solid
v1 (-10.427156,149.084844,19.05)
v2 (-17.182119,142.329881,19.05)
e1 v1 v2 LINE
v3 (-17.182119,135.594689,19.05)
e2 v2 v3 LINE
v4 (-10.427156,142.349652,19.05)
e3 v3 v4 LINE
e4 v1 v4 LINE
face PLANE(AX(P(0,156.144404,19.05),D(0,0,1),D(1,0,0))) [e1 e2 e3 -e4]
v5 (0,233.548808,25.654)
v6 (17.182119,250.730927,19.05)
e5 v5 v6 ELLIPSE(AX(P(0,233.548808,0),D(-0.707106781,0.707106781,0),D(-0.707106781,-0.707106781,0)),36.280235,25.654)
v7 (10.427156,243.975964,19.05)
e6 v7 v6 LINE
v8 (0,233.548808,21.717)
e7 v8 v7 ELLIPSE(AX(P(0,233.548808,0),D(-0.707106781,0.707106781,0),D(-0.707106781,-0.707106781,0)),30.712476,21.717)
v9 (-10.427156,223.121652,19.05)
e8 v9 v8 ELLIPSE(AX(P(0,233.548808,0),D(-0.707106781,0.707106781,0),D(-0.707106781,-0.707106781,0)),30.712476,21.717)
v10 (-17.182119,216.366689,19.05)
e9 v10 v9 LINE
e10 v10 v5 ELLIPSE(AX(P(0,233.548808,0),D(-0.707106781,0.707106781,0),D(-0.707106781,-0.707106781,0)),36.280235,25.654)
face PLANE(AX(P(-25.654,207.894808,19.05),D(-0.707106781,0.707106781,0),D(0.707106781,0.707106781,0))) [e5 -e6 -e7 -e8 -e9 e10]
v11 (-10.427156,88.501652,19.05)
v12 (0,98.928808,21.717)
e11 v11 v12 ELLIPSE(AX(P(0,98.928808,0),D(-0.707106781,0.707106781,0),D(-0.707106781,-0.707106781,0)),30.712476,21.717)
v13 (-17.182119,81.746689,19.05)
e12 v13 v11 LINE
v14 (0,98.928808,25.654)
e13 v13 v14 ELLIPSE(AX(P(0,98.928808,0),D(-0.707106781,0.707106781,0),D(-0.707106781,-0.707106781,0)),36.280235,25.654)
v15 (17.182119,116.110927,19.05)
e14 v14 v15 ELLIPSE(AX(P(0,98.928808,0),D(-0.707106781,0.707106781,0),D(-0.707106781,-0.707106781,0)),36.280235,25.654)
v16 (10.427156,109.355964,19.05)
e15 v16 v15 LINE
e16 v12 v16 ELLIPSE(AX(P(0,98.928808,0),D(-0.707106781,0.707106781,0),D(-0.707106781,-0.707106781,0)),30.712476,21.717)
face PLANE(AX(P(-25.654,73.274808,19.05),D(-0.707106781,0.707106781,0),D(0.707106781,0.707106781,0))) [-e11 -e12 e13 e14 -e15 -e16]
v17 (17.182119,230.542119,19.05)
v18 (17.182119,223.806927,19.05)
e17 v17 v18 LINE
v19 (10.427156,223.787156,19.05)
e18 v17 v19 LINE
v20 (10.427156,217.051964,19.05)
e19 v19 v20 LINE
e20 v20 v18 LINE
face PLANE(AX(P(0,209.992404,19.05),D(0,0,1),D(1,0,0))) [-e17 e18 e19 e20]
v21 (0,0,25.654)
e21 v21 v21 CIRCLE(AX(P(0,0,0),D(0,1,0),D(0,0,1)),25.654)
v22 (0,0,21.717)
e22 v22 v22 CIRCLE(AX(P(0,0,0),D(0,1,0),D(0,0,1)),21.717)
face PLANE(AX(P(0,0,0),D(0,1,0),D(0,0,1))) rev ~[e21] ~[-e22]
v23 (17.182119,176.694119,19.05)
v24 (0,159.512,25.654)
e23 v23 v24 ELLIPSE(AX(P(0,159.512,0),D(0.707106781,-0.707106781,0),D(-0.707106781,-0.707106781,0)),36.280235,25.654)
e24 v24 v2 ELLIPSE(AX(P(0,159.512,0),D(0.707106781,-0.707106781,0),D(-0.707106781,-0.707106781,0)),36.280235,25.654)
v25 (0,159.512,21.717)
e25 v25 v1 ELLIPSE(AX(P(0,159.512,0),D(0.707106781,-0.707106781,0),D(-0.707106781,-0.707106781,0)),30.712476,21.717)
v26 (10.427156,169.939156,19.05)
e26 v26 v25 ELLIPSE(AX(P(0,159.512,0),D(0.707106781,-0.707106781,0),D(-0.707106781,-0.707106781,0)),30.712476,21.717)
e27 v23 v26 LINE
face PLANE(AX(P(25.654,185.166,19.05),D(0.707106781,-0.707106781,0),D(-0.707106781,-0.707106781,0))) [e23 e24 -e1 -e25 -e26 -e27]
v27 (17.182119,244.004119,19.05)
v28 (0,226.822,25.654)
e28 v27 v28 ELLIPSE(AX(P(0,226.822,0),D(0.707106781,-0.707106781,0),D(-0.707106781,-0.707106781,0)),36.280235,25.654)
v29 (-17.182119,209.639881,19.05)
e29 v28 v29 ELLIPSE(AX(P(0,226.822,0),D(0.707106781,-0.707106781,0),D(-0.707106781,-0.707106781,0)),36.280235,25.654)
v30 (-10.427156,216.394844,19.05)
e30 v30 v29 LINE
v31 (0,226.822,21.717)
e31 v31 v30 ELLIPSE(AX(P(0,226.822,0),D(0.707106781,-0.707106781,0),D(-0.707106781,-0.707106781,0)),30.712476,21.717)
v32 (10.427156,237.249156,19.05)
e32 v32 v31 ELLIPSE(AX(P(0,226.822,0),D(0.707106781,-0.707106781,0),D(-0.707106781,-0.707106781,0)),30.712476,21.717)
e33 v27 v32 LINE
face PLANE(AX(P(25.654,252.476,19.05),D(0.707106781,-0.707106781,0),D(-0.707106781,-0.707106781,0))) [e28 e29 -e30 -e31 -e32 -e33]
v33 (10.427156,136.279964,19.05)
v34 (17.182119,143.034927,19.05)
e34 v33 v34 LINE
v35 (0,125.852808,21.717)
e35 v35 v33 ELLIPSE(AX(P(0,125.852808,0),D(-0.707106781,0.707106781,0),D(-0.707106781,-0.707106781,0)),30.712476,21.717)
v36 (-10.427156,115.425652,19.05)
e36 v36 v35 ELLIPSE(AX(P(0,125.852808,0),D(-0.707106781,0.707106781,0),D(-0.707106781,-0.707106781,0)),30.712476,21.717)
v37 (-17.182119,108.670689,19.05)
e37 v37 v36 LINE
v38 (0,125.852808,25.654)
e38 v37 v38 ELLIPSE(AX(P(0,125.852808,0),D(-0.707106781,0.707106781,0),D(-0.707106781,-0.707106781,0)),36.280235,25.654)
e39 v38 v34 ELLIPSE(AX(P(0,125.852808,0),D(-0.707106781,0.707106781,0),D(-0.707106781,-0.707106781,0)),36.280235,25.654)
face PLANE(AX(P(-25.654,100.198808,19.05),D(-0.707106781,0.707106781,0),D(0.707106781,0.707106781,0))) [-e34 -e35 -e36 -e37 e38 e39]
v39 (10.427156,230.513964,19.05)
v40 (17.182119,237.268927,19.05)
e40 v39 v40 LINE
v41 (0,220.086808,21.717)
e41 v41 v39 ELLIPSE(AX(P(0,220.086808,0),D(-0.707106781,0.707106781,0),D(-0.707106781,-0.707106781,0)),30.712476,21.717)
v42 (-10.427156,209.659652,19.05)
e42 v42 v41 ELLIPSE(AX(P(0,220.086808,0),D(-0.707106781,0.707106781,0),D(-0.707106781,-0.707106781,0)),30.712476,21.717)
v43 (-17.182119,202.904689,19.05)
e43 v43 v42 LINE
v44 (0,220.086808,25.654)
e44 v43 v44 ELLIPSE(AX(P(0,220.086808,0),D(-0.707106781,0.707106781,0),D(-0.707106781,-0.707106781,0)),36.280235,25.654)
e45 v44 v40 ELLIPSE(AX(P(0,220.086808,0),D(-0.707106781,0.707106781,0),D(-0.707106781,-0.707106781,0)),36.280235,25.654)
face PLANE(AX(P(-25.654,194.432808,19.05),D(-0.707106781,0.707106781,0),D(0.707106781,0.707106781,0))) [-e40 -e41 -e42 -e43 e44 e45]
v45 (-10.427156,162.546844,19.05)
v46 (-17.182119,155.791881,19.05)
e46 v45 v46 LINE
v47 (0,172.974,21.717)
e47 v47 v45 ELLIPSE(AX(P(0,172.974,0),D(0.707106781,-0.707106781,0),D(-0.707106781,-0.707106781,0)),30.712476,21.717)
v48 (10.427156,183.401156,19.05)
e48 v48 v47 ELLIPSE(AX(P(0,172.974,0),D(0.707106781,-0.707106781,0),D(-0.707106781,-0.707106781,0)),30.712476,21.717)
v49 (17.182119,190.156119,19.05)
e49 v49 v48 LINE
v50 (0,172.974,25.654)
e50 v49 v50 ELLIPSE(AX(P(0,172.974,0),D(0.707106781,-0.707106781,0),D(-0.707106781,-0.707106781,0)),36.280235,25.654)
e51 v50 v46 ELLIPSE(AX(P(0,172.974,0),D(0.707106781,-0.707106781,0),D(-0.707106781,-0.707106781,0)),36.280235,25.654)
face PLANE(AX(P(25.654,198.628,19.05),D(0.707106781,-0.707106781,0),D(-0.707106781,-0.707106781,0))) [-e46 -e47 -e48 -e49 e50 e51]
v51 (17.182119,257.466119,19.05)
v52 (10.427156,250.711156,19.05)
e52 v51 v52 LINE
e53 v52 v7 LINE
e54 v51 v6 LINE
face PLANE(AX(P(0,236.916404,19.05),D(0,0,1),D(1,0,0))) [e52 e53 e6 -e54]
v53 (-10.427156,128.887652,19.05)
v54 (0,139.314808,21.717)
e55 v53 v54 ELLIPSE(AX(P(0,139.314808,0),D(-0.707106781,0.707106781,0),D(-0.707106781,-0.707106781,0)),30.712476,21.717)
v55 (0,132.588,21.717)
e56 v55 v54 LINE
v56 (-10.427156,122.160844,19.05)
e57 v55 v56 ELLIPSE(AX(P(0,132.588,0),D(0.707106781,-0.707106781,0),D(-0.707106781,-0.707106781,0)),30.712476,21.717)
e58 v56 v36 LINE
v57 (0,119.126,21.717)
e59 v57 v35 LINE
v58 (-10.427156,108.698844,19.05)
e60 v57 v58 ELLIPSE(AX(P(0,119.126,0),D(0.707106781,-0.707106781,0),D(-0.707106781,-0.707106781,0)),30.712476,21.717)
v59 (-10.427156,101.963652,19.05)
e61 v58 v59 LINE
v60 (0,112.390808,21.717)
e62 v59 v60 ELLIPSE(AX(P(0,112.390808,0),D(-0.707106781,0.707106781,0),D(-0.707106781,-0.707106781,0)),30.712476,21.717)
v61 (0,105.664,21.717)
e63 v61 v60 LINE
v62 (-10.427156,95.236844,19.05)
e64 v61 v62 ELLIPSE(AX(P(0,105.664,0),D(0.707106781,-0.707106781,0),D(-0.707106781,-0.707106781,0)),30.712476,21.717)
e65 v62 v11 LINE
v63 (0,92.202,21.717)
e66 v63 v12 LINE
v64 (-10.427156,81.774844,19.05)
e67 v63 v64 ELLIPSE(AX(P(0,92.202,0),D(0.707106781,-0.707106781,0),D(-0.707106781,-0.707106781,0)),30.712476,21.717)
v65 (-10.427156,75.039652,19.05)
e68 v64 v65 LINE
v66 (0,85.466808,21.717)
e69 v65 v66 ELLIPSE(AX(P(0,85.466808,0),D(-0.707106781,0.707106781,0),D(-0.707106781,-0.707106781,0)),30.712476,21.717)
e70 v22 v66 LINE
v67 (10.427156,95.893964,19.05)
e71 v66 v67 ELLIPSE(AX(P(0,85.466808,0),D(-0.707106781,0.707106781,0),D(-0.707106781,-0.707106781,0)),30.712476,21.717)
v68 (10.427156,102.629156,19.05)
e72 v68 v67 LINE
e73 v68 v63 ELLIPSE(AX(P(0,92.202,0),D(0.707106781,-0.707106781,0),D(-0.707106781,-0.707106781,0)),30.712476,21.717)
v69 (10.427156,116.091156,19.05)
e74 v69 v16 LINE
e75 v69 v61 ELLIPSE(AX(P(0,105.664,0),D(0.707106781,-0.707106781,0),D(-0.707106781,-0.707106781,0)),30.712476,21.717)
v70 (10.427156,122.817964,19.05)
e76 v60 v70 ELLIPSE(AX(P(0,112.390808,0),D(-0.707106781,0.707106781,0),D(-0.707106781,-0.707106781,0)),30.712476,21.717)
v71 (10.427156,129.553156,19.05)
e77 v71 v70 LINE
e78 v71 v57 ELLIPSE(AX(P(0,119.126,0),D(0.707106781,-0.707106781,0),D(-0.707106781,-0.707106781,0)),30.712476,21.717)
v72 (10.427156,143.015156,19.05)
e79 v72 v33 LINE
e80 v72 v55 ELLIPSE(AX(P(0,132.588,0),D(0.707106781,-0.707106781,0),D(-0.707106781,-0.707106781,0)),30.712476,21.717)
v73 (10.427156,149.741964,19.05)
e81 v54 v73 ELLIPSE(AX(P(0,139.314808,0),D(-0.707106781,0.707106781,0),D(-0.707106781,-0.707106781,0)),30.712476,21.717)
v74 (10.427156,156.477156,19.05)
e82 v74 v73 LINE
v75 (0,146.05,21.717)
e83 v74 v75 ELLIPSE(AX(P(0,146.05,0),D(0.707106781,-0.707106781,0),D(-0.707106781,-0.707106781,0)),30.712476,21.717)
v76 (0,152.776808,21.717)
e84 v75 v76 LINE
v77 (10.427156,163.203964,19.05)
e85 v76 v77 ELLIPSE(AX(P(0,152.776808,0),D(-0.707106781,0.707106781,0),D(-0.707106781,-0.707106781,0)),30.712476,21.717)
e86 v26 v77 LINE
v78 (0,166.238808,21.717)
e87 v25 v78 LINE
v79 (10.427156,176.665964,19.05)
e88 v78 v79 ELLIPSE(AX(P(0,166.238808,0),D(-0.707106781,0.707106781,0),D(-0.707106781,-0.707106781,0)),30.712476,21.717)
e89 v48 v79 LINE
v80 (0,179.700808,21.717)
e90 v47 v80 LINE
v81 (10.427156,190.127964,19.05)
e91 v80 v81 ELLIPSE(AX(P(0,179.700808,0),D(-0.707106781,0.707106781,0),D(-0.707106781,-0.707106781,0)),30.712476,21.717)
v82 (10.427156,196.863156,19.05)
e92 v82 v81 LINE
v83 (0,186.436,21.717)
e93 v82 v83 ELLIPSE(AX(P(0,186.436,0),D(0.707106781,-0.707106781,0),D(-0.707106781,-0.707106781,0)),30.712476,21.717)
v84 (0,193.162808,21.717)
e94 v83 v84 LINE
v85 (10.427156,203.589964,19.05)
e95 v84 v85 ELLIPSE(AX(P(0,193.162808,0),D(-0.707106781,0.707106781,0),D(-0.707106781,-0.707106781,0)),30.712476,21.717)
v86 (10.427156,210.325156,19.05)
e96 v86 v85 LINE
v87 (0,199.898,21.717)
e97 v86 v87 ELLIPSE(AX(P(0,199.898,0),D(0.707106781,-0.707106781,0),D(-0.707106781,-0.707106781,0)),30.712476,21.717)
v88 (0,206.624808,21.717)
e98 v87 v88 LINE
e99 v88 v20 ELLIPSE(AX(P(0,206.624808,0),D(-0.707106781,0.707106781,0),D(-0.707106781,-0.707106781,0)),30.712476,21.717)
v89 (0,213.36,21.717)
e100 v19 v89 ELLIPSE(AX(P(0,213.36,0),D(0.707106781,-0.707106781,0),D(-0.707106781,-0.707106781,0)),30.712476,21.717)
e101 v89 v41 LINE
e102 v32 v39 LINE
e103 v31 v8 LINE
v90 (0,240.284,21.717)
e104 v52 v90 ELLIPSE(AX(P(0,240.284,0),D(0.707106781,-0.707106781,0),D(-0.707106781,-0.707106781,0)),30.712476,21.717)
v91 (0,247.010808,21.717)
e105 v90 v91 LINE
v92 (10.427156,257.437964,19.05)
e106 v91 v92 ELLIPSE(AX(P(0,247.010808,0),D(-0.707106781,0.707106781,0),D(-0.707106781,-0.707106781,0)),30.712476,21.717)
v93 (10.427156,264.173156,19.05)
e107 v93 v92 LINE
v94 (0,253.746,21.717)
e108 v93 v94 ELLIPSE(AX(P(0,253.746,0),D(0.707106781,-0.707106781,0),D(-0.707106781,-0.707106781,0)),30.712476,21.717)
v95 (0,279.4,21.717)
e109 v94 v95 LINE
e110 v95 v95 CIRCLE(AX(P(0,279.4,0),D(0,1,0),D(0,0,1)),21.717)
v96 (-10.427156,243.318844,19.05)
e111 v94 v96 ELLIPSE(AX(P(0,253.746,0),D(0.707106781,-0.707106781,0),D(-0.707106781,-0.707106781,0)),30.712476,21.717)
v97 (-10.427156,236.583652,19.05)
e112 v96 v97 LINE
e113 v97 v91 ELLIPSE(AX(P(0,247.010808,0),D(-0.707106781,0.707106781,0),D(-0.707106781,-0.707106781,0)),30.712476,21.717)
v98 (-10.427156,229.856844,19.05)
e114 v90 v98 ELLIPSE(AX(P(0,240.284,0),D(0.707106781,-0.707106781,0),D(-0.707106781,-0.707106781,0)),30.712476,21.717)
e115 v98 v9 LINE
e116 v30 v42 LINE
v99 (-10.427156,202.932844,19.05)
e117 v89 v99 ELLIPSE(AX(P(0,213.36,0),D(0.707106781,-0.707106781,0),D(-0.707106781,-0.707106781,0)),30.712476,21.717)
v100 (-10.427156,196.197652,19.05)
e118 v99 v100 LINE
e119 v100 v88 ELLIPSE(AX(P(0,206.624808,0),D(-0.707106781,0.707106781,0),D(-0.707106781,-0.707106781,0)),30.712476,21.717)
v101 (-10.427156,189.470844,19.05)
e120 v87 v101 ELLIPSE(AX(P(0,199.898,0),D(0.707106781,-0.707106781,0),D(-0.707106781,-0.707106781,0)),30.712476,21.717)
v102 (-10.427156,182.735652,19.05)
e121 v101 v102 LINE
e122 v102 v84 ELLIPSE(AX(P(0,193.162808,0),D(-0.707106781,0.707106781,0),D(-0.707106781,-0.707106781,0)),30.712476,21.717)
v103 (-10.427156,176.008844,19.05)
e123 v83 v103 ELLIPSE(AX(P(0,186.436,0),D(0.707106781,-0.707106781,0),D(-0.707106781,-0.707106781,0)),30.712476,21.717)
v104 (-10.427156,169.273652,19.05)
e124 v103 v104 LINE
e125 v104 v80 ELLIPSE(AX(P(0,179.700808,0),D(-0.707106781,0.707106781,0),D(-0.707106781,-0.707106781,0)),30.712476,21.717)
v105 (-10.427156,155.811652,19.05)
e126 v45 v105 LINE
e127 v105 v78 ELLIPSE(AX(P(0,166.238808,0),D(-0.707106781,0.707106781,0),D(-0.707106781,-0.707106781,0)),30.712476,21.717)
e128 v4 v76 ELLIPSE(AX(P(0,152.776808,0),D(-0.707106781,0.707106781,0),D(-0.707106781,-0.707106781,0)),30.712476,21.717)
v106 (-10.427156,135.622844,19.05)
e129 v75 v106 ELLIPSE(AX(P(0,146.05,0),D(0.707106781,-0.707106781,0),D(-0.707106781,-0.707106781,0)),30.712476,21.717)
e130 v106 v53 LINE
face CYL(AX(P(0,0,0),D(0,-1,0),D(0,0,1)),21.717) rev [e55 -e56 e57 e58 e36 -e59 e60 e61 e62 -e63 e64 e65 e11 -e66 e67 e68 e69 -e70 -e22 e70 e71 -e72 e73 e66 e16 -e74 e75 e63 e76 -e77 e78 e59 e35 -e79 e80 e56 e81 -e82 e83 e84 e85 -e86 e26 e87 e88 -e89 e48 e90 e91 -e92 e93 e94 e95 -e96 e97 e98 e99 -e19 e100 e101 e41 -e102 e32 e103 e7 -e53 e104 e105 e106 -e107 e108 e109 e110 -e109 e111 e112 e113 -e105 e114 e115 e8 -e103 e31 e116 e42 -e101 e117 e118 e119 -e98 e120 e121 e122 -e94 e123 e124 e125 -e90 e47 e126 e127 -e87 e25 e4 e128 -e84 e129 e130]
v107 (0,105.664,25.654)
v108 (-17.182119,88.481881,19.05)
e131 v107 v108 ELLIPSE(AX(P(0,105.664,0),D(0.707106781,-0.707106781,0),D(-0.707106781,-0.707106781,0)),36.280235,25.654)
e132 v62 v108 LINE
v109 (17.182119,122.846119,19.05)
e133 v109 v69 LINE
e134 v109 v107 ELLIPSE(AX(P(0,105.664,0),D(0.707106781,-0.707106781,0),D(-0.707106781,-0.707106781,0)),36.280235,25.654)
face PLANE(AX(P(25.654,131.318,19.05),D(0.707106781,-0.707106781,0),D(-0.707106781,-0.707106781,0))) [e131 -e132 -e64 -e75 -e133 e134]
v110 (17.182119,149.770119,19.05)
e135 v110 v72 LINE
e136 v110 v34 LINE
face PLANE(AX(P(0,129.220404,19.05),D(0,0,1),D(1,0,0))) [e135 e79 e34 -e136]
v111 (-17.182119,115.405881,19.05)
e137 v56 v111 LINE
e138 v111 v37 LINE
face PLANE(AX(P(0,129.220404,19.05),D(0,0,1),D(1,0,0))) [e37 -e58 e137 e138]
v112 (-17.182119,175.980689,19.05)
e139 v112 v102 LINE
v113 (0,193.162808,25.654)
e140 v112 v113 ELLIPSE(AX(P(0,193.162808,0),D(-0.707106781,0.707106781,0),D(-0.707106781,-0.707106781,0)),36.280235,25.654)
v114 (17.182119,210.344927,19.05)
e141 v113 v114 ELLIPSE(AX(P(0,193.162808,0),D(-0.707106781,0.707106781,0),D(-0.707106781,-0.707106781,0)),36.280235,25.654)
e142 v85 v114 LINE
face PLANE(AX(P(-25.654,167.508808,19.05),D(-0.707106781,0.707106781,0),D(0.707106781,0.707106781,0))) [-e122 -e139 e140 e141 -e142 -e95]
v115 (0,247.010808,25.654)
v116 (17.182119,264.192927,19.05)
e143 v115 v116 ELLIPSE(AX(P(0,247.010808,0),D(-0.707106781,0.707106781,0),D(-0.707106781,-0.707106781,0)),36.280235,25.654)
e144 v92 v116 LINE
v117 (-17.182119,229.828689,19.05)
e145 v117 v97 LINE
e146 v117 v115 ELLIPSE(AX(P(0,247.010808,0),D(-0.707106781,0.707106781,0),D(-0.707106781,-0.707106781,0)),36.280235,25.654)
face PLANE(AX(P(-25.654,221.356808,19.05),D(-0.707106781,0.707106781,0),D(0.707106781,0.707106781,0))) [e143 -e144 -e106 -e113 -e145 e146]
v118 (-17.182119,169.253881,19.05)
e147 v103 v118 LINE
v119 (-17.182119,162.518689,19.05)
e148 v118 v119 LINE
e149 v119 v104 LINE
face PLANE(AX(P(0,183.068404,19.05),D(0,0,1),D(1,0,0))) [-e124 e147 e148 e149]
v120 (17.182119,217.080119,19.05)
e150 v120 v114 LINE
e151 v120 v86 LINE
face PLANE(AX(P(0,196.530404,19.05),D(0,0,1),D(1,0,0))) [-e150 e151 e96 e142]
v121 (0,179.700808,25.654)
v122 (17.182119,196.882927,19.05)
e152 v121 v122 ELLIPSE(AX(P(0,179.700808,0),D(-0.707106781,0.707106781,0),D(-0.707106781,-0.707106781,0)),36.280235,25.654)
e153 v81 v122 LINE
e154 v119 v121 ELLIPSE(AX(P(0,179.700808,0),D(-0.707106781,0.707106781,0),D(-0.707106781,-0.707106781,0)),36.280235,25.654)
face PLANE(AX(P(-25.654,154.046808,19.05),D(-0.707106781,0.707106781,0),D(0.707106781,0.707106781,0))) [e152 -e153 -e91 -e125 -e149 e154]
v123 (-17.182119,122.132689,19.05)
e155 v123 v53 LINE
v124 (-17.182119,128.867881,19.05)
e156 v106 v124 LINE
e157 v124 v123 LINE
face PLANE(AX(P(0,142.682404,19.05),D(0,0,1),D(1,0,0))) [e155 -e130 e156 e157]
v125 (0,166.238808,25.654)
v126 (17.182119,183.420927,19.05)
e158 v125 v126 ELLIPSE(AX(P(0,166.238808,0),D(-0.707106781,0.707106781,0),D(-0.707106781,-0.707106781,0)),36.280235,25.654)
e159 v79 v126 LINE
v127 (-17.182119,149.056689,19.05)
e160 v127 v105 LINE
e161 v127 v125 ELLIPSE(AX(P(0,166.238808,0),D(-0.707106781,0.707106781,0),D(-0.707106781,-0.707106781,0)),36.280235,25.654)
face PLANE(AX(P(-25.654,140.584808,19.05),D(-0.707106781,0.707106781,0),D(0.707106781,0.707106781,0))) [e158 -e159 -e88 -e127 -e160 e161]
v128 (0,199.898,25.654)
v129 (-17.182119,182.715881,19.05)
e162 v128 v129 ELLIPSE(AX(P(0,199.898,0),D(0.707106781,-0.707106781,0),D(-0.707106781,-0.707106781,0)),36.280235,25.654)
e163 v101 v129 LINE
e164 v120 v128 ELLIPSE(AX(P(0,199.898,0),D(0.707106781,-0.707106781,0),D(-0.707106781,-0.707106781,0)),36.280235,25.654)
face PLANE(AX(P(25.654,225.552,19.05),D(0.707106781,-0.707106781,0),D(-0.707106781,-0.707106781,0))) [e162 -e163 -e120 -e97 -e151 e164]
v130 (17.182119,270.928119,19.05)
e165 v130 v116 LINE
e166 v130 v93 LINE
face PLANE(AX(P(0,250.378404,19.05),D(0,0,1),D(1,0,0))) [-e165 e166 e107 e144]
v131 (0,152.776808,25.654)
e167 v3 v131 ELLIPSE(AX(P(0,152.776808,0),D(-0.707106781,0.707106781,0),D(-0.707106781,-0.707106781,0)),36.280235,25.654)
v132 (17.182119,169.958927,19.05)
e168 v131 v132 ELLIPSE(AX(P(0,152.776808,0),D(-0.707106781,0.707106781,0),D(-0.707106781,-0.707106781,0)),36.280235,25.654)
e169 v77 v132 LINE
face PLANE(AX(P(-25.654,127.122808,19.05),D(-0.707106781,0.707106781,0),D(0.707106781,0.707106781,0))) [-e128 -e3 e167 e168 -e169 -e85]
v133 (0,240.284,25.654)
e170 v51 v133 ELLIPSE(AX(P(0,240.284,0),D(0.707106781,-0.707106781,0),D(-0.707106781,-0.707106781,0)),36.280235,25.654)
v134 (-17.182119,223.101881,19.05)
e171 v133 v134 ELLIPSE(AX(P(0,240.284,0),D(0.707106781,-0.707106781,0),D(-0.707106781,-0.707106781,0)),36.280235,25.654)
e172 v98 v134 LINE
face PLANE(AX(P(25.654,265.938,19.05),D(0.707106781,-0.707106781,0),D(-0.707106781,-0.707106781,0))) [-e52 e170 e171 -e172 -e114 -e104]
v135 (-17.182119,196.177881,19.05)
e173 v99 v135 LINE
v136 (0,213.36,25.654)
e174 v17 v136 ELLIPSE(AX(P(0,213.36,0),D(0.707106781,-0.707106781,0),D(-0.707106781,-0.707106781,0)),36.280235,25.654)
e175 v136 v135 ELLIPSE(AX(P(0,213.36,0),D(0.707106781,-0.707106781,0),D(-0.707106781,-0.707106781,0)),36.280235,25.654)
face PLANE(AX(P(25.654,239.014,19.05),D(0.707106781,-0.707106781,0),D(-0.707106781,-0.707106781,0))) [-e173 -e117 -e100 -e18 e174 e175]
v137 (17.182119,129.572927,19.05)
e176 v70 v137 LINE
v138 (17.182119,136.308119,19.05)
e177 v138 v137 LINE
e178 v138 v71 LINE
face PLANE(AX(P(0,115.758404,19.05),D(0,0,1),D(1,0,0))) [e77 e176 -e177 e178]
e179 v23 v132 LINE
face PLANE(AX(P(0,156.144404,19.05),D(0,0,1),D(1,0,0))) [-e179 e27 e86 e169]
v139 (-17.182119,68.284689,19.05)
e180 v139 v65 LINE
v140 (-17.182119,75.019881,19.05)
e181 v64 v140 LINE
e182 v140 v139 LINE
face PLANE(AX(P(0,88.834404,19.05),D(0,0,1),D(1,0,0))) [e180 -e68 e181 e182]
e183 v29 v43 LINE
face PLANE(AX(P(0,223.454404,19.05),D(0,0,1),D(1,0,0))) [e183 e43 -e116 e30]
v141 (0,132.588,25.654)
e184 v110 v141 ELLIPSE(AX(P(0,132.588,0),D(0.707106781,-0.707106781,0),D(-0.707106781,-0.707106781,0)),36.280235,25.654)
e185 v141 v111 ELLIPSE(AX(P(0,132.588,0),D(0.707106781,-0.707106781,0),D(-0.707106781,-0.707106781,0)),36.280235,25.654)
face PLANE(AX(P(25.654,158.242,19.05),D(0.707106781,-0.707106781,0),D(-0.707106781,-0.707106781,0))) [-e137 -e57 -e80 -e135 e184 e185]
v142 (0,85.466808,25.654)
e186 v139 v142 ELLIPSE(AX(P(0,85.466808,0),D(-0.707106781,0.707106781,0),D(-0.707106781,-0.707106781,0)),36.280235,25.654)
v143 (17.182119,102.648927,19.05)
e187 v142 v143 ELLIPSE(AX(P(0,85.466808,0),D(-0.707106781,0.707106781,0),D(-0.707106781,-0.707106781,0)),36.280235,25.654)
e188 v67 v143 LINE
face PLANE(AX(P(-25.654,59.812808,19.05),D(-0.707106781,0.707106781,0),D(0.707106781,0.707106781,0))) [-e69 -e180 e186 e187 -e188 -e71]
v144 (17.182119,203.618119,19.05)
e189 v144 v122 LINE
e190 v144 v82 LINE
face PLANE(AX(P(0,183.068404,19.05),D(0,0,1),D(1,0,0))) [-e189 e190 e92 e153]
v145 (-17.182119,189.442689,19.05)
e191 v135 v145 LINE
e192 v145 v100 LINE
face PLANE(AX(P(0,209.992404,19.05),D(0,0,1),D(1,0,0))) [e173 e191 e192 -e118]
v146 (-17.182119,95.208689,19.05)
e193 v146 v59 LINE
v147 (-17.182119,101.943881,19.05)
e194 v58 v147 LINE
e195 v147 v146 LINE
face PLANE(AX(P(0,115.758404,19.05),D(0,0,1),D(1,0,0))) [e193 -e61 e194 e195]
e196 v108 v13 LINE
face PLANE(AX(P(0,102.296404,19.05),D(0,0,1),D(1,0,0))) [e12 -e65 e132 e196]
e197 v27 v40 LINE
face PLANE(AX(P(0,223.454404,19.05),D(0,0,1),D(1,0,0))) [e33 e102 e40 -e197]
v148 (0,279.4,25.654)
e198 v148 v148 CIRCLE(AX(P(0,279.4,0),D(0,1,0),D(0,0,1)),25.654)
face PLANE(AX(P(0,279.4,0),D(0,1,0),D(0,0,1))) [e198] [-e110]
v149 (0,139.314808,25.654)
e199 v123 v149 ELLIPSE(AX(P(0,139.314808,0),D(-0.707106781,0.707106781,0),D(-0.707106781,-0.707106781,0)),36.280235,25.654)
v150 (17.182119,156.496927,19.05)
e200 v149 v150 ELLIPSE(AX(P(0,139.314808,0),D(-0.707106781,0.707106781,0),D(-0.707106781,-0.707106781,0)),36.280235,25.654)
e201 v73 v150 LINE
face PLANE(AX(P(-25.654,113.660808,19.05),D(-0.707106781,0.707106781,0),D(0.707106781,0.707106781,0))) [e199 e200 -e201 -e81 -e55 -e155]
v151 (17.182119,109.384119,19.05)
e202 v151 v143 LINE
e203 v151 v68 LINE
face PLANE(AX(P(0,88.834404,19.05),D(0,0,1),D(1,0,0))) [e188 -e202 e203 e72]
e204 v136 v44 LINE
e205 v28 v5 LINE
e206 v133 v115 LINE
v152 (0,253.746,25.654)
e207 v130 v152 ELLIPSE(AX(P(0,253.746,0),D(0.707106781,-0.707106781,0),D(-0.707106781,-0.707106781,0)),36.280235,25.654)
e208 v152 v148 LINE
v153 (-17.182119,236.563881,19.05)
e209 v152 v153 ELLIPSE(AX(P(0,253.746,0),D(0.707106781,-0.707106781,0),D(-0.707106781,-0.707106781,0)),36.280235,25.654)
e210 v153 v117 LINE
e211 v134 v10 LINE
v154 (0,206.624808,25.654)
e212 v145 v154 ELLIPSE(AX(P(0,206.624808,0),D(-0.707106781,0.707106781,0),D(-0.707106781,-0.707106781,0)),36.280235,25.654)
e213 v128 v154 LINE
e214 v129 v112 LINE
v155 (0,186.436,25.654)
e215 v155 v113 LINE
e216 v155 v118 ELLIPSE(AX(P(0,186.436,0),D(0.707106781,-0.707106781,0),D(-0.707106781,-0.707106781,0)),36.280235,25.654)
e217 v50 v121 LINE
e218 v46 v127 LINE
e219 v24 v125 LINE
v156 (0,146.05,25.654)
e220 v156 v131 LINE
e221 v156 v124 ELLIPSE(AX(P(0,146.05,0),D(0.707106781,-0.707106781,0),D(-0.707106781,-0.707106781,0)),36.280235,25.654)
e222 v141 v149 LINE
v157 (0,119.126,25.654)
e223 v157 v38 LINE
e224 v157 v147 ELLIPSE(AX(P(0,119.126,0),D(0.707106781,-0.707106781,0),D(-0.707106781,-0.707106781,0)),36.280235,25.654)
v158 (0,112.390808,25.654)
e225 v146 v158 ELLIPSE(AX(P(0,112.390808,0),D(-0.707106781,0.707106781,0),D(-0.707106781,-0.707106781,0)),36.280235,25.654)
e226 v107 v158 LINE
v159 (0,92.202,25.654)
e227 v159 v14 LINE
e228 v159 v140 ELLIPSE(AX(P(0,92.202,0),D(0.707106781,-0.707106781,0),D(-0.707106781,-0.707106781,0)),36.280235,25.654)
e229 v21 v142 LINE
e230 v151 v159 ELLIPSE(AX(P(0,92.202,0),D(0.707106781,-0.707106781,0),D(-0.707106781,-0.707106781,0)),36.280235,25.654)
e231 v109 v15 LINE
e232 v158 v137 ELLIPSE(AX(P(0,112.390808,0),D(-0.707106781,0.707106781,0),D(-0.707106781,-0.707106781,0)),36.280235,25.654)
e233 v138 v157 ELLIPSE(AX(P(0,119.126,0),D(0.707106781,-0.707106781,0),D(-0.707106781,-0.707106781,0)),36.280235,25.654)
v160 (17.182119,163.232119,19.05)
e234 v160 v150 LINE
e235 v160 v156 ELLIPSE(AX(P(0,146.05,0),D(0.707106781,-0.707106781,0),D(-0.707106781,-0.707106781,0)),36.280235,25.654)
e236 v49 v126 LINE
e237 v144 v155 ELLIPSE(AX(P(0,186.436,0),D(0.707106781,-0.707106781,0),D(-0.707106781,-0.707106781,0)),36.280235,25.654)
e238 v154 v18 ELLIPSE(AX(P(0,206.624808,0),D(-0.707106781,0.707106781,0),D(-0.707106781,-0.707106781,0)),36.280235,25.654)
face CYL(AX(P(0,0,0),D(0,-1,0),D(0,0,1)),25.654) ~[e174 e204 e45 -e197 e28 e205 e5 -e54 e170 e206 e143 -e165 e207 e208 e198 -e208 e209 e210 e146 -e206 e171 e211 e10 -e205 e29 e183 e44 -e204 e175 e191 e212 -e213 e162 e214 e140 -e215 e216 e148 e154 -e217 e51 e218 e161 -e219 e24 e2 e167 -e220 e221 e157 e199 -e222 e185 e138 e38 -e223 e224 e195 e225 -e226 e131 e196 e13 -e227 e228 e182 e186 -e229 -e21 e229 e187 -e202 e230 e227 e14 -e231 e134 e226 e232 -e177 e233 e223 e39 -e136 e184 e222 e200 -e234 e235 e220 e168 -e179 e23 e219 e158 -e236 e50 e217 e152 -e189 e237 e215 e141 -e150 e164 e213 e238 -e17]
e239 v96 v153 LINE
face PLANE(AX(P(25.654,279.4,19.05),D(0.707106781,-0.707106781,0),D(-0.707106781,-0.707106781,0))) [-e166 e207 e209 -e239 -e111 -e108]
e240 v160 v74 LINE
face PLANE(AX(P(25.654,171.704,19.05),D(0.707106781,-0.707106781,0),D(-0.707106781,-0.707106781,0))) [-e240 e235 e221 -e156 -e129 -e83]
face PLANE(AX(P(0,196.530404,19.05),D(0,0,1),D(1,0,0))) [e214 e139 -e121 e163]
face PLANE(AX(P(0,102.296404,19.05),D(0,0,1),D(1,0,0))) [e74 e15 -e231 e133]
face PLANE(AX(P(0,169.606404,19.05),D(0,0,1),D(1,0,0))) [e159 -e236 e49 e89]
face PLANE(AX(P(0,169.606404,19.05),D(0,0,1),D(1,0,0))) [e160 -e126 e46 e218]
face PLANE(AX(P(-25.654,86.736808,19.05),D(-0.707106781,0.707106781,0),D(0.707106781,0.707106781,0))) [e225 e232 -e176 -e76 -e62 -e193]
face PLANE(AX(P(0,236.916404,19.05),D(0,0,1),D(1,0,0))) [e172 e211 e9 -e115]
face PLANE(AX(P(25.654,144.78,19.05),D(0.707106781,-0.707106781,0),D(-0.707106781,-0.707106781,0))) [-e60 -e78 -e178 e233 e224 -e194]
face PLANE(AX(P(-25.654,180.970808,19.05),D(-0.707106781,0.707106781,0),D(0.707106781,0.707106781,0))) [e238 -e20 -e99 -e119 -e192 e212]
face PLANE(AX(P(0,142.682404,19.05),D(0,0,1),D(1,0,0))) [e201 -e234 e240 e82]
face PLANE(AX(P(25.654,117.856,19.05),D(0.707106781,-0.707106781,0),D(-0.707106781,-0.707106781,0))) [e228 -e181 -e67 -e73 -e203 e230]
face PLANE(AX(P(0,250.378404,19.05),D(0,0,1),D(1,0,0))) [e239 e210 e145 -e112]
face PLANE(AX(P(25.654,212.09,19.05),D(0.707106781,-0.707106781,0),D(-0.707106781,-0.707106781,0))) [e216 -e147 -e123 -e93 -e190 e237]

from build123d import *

# Parameters (mm, degrees)
SKETCH1_R           = 25.654
SKETCH1_R_2         = 21.717
BOSS_EXTRUDE1_DEPTH = 279.4
CUT_EXTRUDE1_START  = 19.05
CUT_EXTRUDE1_DEPTH  = 12.7
LPATTERN1_COUNT     = 13
LPATTERN1_PITCH     = 13.462


with BuildPart() as part:
    # Sketch1 → Boss-Extrude1 (new body)
    with BuildSketch(Plane(origin=(0, 0, 0), x_dir=(1, 0, 0), z_dir=(0, 1, 0))):
        with Locations(Location((0, 0, 0), (0, 0, 270))):  # turned: the seam where the file's is
            Circle(SKETCH1_R)
        with Locations(Location((0, 0, 0), (0, 0, 270))):  # turned: the seam where the file's is
            Circle(SKETCH1_R_2, mode=Mode.SUBTRACT)
    extrude(amount=BOSS_EXTRUDE1_DEPTH)

    # Sketch2 → Cut-Extrude1 (cut)
    with BuildSketch(Plane.XY.offset(CUT_EXTRUDE1_START)):
        Polygon((-29.021596045, 224.724403955), (-25.654, 221.356807909), (29.021596045, 276.032403955), (25.654, 279.4), align=None)
    cut_extrude1 = extrude(amount=CUT_EXTRUDE1_DEPTH, mode=Mode.SUBTRACT)

    # LPattern1: Cut-Extrude1 ×13
    with Locations(*[(0, -i * LPATTERN1_PITCH, 0) for i in range(1, LPATTERN1_COUNT)]):
        add(cut_extrude1, mode=Mode.SUBTRACT)


solid = part.part
